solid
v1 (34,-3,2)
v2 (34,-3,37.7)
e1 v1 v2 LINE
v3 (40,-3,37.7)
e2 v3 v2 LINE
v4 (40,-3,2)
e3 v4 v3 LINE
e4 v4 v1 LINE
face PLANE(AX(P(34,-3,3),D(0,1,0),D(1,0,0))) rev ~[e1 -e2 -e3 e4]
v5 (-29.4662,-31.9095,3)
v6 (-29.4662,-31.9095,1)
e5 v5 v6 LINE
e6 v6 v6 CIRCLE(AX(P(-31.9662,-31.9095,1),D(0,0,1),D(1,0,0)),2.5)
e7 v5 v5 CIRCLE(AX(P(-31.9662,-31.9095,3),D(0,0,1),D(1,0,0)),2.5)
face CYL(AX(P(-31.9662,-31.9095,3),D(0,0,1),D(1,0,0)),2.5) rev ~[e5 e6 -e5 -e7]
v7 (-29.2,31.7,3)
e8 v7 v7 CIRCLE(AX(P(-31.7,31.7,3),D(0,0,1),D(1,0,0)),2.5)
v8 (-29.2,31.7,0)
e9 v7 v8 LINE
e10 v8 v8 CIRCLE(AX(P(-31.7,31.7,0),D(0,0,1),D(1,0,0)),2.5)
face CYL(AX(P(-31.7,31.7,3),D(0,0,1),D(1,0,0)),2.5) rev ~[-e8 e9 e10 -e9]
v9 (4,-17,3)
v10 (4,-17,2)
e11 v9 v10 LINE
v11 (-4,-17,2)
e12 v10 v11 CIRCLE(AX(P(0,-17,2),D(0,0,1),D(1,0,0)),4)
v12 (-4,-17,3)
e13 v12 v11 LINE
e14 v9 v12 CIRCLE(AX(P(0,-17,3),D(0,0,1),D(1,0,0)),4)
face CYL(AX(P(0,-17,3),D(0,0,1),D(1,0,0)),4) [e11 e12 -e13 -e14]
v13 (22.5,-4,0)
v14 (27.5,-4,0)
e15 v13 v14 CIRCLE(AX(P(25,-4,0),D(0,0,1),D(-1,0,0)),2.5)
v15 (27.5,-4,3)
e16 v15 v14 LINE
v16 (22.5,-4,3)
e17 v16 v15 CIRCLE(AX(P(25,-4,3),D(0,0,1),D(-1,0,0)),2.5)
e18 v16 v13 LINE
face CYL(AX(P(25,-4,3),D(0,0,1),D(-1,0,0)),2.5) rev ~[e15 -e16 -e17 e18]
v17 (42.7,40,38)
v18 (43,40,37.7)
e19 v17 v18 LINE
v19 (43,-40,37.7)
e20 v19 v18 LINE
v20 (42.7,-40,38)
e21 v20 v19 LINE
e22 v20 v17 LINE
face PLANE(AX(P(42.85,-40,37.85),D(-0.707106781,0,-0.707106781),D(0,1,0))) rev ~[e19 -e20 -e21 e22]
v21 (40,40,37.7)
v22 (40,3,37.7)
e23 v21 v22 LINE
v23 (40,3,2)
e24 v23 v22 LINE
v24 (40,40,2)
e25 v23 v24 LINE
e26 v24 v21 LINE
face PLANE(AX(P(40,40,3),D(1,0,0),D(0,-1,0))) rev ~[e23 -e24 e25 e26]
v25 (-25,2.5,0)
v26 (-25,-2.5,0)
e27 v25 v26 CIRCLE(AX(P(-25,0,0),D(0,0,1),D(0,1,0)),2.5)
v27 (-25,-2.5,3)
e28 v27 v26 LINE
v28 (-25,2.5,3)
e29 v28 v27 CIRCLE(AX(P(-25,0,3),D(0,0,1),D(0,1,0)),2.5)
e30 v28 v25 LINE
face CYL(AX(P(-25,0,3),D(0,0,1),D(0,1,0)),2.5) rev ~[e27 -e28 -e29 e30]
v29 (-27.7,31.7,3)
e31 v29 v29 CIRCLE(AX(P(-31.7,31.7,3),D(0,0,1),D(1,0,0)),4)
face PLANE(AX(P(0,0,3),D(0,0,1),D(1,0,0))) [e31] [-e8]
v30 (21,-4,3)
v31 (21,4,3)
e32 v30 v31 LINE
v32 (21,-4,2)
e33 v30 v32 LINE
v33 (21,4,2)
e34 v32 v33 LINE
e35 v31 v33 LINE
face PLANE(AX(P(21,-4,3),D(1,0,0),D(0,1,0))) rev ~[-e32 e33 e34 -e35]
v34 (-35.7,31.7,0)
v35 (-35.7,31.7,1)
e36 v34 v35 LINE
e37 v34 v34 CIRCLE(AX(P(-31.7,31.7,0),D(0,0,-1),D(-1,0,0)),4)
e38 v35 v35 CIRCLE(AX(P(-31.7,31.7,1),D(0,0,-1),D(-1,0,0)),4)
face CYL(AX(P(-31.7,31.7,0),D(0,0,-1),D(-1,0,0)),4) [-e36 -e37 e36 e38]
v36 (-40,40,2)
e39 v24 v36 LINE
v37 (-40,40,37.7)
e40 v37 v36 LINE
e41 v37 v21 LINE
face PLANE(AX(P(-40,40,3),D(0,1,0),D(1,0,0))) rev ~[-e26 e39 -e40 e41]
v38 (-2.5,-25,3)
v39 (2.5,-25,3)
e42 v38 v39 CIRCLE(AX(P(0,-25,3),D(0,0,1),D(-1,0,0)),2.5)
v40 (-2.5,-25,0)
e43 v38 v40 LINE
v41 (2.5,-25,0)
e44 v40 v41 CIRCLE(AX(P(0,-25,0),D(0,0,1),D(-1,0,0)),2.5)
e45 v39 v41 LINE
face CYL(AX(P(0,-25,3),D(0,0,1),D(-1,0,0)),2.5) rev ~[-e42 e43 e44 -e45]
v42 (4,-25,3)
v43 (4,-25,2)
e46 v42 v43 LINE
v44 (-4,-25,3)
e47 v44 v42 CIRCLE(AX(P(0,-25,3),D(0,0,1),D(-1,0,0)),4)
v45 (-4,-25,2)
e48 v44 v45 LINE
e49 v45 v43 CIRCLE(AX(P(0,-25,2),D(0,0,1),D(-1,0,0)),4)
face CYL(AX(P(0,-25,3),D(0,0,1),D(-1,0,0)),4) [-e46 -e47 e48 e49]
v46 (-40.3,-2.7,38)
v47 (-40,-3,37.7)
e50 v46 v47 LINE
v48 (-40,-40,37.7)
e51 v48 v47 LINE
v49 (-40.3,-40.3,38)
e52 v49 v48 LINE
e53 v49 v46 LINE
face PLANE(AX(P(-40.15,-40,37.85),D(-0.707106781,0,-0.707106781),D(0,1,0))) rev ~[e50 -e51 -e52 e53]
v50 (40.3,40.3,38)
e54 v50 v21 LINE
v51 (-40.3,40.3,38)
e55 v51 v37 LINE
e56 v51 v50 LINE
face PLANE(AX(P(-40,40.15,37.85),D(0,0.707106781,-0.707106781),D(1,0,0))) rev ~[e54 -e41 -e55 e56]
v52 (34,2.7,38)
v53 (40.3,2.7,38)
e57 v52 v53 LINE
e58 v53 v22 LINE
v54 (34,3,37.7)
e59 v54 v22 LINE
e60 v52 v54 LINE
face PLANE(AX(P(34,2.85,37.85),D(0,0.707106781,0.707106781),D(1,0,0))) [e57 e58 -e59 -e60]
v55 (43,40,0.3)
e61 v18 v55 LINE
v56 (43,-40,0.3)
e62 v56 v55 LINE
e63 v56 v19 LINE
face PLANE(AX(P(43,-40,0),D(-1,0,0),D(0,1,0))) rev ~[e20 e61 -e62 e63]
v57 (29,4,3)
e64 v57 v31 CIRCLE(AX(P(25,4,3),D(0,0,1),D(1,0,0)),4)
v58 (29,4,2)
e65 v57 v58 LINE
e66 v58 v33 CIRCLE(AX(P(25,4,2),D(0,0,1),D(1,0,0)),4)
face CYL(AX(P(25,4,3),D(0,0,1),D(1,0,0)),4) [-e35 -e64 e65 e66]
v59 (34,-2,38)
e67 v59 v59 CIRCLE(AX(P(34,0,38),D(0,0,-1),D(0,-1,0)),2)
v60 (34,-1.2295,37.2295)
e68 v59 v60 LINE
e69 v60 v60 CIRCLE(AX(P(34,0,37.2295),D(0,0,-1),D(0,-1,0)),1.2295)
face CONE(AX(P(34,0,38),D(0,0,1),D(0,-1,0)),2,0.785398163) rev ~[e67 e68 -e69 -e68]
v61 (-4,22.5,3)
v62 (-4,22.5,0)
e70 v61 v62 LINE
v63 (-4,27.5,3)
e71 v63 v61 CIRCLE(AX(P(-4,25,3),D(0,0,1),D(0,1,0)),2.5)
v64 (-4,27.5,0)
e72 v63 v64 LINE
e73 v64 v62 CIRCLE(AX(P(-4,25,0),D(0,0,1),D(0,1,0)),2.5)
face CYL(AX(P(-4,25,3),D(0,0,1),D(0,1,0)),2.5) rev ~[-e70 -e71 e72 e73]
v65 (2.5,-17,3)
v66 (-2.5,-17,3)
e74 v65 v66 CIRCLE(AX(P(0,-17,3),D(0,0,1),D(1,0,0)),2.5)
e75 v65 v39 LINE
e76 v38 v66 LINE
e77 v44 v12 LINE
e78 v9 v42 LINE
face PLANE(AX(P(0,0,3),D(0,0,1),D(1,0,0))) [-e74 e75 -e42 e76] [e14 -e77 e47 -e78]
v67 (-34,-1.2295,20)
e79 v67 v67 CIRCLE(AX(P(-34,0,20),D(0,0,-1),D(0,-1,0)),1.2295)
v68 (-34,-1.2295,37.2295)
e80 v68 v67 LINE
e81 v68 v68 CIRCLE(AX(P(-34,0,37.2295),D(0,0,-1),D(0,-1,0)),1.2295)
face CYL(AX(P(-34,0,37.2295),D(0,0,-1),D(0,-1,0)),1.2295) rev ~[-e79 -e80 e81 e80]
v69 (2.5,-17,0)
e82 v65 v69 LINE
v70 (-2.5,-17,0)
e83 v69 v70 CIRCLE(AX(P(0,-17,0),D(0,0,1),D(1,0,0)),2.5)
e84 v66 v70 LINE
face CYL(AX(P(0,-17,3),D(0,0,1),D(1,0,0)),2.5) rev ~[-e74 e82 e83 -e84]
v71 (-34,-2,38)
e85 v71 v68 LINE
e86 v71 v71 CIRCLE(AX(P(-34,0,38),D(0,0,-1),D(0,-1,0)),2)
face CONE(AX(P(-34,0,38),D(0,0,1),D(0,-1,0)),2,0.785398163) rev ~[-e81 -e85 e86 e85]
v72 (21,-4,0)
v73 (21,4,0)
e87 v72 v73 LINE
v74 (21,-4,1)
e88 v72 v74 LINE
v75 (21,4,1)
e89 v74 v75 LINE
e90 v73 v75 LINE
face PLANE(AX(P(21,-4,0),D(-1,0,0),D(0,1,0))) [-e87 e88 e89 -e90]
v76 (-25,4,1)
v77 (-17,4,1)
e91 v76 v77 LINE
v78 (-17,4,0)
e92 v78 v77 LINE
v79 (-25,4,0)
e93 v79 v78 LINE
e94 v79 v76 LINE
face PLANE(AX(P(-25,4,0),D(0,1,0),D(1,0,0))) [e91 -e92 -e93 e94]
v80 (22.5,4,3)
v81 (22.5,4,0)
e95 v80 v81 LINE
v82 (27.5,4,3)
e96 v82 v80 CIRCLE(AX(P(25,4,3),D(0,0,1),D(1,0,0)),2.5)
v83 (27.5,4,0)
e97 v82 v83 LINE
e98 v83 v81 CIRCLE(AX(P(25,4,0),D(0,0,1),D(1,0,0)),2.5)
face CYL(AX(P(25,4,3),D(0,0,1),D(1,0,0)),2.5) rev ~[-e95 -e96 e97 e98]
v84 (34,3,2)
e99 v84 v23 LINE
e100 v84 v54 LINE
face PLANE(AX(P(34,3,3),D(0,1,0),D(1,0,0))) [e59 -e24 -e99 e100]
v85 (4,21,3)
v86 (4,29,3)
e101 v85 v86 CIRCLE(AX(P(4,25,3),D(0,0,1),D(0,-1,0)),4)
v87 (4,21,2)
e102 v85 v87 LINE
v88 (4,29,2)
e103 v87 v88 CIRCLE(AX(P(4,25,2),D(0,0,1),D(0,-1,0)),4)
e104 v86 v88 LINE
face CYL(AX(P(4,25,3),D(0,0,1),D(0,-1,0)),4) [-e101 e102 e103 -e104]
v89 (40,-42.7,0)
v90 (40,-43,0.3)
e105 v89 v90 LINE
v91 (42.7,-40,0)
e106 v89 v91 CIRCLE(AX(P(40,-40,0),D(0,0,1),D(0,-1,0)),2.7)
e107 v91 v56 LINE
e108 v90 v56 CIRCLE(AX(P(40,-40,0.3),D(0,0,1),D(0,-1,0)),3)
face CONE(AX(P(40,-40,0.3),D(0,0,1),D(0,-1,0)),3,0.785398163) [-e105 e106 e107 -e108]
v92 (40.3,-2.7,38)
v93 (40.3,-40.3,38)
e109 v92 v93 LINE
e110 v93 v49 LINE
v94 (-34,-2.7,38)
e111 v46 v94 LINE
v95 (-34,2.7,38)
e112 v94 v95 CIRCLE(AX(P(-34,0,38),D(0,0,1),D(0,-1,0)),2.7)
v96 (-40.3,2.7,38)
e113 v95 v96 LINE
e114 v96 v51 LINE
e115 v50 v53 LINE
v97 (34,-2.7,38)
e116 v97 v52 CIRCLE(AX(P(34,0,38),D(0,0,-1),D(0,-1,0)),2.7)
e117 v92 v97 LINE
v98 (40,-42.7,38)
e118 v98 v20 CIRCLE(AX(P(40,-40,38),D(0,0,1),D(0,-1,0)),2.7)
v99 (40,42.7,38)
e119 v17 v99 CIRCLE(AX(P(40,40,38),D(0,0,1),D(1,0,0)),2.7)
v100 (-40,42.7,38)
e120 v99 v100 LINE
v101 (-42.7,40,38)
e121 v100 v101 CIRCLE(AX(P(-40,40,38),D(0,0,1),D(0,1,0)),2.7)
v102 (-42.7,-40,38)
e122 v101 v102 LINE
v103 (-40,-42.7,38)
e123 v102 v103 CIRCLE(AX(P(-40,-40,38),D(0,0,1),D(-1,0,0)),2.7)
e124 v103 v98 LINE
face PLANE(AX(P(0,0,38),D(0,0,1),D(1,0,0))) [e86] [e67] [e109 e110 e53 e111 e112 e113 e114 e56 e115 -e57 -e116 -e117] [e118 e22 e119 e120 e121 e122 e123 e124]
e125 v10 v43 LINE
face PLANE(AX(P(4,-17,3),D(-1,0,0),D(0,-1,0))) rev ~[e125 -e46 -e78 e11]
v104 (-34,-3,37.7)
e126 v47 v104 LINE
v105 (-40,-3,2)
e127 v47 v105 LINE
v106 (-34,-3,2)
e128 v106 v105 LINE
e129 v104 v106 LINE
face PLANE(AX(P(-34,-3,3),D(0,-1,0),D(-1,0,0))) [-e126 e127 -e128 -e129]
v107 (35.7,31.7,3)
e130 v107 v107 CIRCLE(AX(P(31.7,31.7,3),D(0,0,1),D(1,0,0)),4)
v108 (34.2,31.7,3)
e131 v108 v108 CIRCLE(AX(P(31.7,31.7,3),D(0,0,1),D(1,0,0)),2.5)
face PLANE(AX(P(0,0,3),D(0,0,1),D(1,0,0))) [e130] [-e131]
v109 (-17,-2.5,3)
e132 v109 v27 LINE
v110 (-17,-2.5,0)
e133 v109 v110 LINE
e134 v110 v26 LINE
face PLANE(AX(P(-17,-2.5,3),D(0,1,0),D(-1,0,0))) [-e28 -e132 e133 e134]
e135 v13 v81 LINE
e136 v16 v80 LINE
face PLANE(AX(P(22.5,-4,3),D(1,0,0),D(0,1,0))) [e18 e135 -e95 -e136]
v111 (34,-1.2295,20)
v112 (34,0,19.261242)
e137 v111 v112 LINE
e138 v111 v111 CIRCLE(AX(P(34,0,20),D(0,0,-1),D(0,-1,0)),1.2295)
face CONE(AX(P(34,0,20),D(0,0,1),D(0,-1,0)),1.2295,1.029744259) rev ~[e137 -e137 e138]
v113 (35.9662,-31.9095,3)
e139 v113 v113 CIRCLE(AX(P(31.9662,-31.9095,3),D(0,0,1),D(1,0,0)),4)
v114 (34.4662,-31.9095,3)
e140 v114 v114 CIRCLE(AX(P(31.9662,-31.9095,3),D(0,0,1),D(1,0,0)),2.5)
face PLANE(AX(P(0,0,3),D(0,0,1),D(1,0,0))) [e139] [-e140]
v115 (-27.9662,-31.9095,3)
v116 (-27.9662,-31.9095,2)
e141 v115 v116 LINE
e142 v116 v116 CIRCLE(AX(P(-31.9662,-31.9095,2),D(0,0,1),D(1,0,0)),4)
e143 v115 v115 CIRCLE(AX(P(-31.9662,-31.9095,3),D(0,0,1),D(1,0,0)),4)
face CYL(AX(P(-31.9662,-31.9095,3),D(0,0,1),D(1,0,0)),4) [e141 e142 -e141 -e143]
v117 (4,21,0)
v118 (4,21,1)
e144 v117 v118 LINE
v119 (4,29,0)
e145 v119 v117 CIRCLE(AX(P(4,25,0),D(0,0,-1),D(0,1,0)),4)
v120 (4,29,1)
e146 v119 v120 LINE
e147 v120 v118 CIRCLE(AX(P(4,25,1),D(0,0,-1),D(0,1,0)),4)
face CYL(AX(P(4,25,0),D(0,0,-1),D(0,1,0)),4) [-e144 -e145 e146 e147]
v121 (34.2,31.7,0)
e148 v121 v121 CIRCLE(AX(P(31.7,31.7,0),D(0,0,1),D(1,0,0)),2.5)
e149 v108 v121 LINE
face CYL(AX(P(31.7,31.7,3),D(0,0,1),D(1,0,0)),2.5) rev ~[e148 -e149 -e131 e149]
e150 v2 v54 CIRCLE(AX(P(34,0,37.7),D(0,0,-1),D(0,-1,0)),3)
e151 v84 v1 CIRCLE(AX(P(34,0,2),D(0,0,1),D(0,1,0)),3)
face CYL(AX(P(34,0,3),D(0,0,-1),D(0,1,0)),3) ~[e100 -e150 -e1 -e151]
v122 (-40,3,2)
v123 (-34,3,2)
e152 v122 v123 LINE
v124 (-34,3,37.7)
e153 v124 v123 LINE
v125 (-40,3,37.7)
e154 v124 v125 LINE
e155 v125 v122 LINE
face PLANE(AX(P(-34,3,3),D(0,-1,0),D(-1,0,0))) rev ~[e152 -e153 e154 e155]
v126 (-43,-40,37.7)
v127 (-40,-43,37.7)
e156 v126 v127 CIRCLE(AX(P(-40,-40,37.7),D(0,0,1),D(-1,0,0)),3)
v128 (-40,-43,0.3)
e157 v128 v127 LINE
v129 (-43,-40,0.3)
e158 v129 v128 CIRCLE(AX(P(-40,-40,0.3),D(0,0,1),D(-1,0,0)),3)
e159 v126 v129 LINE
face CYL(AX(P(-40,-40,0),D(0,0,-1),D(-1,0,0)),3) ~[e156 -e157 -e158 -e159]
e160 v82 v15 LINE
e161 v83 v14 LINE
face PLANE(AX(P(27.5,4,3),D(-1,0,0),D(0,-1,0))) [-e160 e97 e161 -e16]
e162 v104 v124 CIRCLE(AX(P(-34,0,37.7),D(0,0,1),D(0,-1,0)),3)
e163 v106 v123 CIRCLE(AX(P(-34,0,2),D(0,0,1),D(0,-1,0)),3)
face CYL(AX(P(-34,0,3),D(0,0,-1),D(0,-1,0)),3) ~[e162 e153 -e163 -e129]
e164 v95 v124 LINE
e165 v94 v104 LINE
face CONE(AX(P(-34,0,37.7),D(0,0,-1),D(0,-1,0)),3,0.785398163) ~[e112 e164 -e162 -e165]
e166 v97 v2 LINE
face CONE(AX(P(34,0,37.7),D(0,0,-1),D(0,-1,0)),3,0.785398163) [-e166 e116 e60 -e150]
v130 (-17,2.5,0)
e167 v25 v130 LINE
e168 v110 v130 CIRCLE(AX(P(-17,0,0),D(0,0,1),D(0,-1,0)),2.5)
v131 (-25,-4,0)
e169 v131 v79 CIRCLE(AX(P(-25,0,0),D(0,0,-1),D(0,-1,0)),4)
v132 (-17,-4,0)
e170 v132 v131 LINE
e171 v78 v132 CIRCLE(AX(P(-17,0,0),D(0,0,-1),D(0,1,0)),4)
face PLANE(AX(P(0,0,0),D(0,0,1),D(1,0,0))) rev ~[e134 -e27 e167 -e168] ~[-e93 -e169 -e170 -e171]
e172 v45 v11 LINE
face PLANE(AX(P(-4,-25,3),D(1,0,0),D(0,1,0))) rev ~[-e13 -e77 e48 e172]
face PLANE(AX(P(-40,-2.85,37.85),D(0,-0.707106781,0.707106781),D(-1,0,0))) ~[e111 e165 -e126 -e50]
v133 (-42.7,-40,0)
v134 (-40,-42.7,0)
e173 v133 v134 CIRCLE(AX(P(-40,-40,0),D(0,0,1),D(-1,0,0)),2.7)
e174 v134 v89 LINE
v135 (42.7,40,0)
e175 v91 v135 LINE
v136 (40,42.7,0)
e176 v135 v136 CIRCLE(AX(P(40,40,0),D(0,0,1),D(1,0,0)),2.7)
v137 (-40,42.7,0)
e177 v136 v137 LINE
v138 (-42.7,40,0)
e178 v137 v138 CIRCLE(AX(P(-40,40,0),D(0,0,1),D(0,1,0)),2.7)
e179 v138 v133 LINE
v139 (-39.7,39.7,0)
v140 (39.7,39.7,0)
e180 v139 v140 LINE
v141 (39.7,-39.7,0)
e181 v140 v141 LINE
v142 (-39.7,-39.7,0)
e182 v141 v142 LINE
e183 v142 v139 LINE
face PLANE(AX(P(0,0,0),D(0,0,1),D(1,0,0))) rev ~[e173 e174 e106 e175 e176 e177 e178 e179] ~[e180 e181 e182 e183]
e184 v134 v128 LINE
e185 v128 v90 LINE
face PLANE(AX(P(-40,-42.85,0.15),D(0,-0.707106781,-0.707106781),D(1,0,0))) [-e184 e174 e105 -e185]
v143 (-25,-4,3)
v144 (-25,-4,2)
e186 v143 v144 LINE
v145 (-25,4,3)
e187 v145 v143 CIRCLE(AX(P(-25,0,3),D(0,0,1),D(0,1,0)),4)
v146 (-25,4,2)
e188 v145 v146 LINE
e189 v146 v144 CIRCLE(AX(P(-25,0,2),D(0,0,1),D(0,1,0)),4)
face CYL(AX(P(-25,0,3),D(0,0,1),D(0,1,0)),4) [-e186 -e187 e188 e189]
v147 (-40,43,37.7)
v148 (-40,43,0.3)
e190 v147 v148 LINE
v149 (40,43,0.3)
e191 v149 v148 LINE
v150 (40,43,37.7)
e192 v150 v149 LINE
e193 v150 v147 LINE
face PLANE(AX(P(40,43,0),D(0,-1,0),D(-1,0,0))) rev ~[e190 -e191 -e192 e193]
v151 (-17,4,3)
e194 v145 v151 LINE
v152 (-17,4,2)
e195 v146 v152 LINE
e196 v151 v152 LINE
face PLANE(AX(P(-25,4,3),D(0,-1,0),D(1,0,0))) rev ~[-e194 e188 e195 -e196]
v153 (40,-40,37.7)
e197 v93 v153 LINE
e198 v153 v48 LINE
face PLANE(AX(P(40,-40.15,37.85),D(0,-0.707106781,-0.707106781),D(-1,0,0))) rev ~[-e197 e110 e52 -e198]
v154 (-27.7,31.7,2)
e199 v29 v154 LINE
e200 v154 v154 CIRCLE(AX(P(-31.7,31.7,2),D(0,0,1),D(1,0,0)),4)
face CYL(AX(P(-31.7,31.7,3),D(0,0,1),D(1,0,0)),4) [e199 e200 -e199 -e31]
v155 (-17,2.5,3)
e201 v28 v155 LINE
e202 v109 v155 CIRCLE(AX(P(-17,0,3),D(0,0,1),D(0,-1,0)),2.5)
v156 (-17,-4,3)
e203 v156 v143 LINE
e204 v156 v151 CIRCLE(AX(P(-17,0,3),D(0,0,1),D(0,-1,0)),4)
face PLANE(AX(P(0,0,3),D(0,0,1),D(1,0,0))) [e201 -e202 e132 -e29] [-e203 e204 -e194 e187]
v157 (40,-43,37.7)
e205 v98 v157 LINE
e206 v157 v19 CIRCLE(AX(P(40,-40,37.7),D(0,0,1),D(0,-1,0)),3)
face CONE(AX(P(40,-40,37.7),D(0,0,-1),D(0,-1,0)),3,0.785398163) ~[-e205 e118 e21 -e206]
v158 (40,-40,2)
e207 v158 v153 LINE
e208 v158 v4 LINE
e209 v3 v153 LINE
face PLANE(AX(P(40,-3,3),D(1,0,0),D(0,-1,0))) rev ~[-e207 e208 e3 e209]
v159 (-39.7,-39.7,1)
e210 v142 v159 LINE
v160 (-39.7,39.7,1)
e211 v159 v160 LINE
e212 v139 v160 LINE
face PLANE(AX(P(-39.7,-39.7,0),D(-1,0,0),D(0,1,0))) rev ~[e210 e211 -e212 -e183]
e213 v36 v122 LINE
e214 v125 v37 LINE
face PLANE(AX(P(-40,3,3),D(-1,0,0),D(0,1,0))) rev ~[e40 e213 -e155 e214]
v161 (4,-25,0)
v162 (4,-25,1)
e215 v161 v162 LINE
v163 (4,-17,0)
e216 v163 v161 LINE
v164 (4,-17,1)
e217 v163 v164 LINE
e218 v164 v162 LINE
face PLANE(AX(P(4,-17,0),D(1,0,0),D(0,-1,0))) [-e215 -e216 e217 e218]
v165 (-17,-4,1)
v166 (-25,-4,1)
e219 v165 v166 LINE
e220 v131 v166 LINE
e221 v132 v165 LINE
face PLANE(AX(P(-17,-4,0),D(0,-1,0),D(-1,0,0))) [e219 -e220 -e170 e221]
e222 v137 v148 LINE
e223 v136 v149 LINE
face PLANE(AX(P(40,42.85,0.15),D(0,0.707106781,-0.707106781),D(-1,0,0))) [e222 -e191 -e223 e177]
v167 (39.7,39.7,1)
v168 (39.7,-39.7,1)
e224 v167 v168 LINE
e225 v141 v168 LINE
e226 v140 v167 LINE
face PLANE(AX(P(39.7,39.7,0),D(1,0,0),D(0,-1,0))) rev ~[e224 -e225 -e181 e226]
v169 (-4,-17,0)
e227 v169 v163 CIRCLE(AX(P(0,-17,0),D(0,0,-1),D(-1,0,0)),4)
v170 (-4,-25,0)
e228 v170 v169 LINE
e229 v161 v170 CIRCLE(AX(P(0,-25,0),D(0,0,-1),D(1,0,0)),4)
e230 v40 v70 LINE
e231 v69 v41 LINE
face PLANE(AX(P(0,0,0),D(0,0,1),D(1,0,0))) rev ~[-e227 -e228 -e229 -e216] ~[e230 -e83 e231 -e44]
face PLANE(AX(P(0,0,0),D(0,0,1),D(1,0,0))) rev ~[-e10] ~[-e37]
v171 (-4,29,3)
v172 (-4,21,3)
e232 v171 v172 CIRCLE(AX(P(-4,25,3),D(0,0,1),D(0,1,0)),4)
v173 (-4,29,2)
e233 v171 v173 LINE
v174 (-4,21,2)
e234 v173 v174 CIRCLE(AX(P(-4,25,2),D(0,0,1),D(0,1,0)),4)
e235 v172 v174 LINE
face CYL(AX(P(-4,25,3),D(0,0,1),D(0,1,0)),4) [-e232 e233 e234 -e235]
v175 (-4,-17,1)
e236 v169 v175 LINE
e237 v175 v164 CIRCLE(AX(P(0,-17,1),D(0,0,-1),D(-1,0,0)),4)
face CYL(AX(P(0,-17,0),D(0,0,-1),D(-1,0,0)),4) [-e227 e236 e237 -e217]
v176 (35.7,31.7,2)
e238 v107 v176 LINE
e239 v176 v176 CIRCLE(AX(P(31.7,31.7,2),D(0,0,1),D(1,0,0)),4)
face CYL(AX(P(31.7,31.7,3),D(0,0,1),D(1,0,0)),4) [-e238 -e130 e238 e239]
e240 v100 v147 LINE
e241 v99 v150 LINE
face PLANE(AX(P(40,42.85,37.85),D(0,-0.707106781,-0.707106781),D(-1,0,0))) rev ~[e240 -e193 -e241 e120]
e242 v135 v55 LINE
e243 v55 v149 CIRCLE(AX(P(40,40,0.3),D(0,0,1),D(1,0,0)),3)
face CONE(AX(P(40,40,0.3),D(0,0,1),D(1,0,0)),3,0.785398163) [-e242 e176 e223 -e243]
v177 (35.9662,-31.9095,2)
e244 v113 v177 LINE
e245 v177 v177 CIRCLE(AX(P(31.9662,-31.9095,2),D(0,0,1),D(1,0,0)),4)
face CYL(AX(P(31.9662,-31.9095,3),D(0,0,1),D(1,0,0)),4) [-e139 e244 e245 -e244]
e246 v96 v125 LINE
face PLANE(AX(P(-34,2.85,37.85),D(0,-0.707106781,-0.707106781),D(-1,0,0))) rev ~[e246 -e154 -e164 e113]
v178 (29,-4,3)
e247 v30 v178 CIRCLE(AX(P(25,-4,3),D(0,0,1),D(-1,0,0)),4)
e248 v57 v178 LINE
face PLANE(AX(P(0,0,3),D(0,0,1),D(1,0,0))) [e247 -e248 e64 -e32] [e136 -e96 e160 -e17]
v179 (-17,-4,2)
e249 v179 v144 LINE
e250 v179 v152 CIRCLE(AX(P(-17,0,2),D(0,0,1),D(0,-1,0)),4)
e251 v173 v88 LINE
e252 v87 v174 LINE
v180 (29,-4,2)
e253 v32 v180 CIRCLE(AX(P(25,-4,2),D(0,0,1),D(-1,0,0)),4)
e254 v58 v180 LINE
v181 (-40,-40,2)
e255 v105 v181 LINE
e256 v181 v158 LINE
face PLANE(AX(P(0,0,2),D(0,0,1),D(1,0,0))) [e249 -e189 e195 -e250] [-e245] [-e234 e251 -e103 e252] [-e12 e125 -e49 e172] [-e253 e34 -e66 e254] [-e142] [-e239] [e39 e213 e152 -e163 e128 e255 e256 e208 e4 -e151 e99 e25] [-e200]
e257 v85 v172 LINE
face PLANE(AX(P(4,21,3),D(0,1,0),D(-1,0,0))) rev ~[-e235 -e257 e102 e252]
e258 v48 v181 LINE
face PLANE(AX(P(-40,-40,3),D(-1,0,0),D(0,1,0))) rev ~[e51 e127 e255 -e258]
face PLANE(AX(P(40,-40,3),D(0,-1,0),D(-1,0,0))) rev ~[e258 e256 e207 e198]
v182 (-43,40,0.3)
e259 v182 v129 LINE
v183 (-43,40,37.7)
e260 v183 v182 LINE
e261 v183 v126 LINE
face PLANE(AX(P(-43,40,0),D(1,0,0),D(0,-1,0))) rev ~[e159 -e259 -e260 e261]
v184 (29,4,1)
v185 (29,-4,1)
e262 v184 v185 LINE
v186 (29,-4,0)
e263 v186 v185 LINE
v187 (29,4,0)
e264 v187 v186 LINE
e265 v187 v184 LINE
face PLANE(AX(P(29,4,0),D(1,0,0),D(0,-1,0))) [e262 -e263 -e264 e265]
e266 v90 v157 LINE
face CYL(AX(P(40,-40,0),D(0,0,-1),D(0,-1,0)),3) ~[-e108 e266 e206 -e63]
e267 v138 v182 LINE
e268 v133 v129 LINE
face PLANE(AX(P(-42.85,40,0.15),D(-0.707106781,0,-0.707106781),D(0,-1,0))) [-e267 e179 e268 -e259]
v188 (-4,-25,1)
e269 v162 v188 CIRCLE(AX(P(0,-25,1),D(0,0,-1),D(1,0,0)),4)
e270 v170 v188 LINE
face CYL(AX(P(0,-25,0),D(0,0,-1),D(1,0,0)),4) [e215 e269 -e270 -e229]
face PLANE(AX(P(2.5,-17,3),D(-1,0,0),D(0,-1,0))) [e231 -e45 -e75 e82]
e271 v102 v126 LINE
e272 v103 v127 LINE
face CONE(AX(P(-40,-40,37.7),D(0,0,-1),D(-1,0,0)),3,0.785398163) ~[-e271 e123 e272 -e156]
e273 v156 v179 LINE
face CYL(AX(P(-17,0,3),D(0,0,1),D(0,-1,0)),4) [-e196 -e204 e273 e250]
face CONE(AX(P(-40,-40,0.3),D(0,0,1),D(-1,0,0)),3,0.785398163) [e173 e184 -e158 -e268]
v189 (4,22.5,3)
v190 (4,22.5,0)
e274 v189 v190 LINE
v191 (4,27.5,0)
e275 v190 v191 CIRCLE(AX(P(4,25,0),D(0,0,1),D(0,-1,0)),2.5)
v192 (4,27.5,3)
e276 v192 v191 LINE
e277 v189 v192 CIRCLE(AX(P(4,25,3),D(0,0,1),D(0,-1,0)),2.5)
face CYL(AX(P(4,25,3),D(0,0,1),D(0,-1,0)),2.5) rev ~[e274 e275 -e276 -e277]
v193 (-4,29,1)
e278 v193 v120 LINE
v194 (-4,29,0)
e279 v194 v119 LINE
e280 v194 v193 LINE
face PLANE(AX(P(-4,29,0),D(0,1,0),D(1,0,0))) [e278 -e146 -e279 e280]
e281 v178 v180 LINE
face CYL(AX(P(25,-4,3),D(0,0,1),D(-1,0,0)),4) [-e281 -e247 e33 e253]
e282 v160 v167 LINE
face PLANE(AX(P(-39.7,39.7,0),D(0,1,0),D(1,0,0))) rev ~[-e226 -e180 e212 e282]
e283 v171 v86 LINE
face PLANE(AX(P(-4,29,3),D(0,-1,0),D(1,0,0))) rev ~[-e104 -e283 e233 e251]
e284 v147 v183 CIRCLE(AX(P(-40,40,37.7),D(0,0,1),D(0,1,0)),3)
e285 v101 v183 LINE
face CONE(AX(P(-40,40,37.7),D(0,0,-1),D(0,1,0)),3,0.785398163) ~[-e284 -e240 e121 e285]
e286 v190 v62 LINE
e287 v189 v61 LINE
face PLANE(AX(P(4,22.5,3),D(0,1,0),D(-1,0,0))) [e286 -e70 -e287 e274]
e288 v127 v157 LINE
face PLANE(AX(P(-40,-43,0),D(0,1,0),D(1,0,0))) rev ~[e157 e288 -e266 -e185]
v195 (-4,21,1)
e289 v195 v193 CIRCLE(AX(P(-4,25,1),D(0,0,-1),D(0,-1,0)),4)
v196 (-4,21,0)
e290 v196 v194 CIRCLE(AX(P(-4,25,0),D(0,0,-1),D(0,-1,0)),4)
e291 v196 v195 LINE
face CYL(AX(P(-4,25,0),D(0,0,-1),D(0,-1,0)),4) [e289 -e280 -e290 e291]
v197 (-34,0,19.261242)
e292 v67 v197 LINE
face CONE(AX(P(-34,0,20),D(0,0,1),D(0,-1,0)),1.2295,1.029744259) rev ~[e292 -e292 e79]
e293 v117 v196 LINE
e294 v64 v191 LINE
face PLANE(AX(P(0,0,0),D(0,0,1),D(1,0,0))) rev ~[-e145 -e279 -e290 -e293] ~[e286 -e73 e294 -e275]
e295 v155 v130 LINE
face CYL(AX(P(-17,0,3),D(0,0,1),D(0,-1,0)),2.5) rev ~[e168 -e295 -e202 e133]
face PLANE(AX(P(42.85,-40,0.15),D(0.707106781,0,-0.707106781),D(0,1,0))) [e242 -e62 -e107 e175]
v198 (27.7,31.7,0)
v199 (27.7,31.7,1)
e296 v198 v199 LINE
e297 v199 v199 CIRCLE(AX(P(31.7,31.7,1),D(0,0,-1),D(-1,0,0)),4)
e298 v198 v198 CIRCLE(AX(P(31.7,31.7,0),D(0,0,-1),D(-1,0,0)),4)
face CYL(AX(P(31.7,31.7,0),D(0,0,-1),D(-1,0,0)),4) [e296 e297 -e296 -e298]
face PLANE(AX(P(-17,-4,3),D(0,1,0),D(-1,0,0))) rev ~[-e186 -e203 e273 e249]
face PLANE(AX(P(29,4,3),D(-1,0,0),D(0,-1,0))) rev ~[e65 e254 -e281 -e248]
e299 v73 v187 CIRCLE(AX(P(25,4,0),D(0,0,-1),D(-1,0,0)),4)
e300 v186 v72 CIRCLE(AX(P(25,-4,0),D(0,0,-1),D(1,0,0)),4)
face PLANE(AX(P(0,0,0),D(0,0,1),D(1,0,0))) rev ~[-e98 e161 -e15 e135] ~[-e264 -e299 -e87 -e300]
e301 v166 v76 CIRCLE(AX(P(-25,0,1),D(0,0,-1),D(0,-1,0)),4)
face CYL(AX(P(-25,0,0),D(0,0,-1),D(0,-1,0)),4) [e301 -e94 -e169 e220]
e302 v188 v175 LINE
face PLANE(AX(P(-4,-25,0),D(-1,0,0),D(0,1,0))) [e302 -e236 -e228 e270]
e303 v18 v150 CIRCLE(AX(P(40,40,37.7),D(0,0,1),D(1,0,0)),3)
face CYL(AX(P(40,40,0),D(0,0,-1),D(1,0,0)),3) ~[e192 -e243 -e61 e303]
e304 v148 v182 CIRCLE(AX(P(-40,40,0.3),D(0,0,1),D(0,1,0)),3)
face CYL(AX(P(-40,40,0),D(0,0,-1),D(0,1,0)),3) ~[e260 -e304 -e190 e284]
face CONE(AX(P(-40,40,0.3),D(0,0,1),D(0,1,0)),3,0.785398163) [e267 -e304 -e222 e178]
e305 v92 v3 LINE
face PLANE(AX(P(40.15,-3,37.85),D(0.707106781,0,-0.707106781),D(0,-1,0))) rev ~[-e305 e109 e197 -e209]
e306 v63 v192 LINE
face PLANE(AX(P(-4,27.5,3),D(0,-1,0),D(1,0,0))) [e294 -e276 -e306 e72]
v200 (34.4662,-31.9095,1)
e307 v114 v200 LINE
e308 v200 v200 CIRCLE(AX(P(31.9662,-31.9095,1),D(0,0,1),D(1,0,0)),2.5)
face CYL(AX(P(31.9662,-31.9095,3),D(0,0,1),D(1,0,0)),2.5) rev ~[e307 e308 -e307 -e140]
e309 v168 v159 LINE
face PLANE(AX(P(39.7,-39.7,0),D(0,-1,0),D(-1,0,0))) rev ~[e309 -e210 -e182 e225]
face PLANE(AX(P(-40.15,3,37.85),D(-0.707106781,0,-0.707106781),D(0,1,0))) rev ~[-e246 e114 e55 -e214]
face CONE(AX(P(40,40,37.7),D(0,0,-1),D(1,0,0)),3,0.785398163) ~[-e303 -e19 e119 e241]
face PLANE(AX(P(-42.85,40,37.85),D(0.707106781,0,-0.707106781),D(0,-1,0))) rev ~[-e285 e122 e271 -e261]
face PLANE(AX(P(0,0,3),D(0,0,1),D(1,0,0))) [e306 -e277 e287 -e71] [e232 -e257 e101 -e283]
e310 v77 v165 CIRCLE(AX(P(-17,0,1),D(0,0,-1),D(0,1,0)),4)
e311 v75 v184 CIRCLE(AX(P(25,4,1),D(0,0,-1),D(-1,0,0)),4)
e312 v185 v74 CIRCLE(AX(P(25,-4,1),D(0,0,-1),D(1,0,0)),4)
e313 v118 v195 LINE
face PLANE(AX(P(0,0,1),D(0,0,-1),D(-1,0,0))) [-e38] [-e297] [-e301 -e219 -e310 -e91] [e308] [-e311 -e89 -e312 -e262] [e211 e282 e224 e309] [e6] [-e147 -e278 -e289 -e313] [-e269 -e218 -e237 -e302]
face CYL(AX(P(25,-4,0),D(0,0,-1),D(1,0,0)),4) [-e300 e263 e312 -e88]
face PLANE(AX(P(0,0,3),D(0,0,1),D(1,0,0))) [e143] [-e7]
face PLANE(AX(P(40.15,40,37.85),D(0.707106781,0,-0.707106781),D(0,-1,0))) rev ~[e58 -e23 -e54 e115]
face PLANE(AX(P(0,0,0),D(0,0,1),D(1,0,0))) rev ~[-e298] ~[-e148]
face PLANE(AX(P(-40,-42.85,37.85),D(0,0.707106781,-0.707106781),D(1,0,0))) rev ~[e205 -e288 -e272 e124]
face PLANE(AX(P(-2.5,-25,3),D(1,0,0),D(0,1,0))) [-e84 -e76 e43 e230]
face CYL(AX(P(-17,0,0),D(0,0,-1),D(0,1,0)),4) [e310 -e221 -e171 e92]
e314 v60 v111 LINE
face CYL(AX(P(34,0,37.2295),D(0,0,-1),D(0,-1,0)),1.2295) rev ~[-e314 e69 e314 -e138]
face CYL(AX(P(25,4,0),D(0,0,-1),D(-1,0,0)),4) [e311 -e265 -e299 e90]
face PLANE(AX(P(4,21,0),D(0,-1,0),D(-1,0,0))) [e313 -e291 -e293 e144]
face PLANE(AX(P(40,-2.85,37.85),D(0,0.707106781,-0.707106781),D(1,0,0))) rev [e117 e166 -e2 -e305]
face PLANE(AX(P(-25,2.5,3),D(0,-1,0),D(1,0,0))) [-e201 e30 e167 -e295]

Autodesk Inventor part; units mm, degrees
ref_plane "YZ Plane" through (0, 0, 0) normal (1, 0, 0) x (0, 1, 0)
ref_plane "XZ Plane" through (0, 0, 0) normal (0, 1, 0) x (-1, 0, 0)
ref_plane "XY Plane" through (0, 0, 0) normal (0, 0, 1) x (1, 0, 0)
sketch "Sketch1" plane through (0, 0, 0) normal (0, 0, 1) x (1, 0, 0)
  line L0 (-40, -43) -> (40, -43)
  line L1 (43, -40) -> (43, 40)
  line L2 (40, 43) -> (-40, 43)
  line L3 (-43, 40) -> (-43, -40)
  line L4 (-43, -43) -> (43, 43) construction
  line L5 (43, -43) -> (-43, 43) construction
  arc A0 (-40, 43) -> (-43, 40) centre (-40, 40) ccw
  arc A1 (43, 40) -> (40, 43) centre (40, 40) ccw
  arc A2 (40, -43) -> (43, -40) centre (40, -40) ccw
  arc A3 (-43, -40) -> (-40, -43) centre (-40, -40) ccw
  point P0 (0, 0)
  dimension "d0" = 86
  dimension "d1" = 3
  dimension "d16" = 86
extrude "Extrusion1" add sketch "Sketch1" along normal blind 3
sketch "Sketch2" plane through (0, 0, 3) normal (0, 0, 1) x (1, 0, 0)
  arc A0 (-40, 43) -> (-43, 40) centre (-40, 40) ccw projected
  line L0 (-43, 40) -> (-43, -40) projected
  arc A1 (-43, -40) -> (-40, -43) centre (-40, -40) ccw projected
  line L1 (-40, -43) -> (40, -43) projected
  arc A2 (40, -43) -> (43, -40) centre (40, -40) ccw projected
  line L2 (43, -40) -> (43, 40) projected
  arc A3 (43, 40) -> (40, 43) centre (40, 40) ccw projected
  line L3 (40, 43) -> (-40, 43) projected
  line L4 (-40, -40) -> (-40, 40)
  line L5 (-40, 40) -> (40, 40)
  line L6 (40, 40) -> (40, -40)
  line L7 (40, -40) -> (-40, -40)
  arc A4 (-34, -3) -> (-34, 3) centre (-34, 0) ccw
  arc A5 (34, 3) -> (34, -3) centre (34, 0) ccw
  line L8 (-34, 3) -> (-40, 3)
  line L9 (-34, -3) -> (-40, -3)
  line L10 (34, 3) -> (40, 3)
  line L11 (34, -3) -> (40, -3)
  arc A6 (-34, 3) -> (-34, -3) centre (-34, 0) ccw construction
  arc A7 (34, -3) -> (34, 3) centre (34, 0) ccw construction
  point P0 (0, 0)
  point P1 (40, 0)
  dimension "d4" = 3
  dimension "d5" = 6
  dimension "d6" = 6
extrude "Extrusion2" add sketch "Sketch2" along normal blind 35 contours L3 A3 L2 A2 L1 A1 L0 A0 | L4 L8 A4 L9 | L11 A5 L10 L6
sketch "Sketch3" plane through (0, 0, 38) normal (0, 0, 1) x (1, 0, 0)
  arc A0 (-34, -3) -> (-34, 3) centre (-34, 0) ccw projected
  arc A1 (34, 3) -> (34, -3) centre (34, 0) ccw projected
  arc A2 (-34, -3) -> (-34, 3) centre (-34, 0) ccw projected
  point P0 (0, 0)
hole "Hole1" at (-34, 0, 38) at (34, 0, 38) direction (0, 0, -1) diameter 2.459 depth 18 tip angle 118 countersink diameter 4 countersink angle 90 thread size "M3x0.5" class "6H" standard "ISO Metric profile"
chamfer "Chamfer1" distance 0.3 angle 45 28 edges at (0, 43, 38) (-42.1213, 42.1213, 38) (-43, 0, 38) (-42.1213, -42.1213, 38) (0, -43, 38) (42.1213, -42.1213, 38) (43, 0, 38) (42.1213, 42.1213, 38) (0, 40, 38) (-40, 21.5, 38) (-31, 0, 38) (-37, 3, 38) (-37, -3, 38) (-40, -21.5, 38) (0, -40, 38) (40, -21.5, 38) (40, 21.5, 38) (37, 3, 38) (31, 0, 38) (37, -3, 38) (43, 0, 0) (42.1213, 42.1213, 0) (0, 43, 0) (-42.1213, 42.1213, 0) (-43, 0, 0) (-42.1213, -42.1213, 0) (0, -43, 0) (42.1213, -42.1213, 0)
sketch "Sketch4" plane through (0, 0, 0) normal (0, 0, -1) x (-1, 0, 0)
  line L0 (-8, 21) -> (-4, 21) construction
  line L1 (8, 21) -> (8, 29) construction
  line L2 (8, 29) -> (4, 29) construction
  line L3 (-8, 29) -> (-8, 21) construction
  line L4 (-8, 21) -> (8, 29) construction
  line L5 (8, 21) -> (-8, 29) construction
  line L6 (0, 0) -> (0, 25) construction
  arc A0 (-4, 29) -> (-4, 21) centre (-4, 25) ccw
  line L7 (-4, 21) -> (4, 21)
  line L8 (-4, 29) -> (-8, 29) construction
  arc A1 (-4, 21) -> (-4, 29) centre (-4, 25) ccw construction
  arc A2 (4, 21) -> (4, 29) centre (4, 25) ccw
  line L9 (4, 29) -> (-4, 29)
  line L10 (4, 21) -> (8, 21) construction
  line L11 (-42.7, -40) -> (-42.7, 40) projected
  arc A3 (-42.7, -40) -> (-40, -42.7) centre (-40, -40) ccw projected
  line L12 (40, -42.7) -> (-40, -42.7) projected
  arc A4 (40, -42.7) -> (42.7, -40) centre (40, -40) ccw projected
  line L13 (42.7, 40) -> (42.7, -40) projected
  arc A5 (42.7, 40) -> (40, 42.7) centre (40, 40) ccw projected
  line L14 (-40, 42.7) -> (40, 42.7) projected
  arc A6 (-40, 42.7) -> (-42.7, 40) centre (-40, 40) ccw projected
  line L15 (-39.7, 39.7) -> (-39.7, -39.7)
  line L16 (-39.7, -39.7) -> (39.7, -39.7)
  line L17 (39.7, -39.7) -> (39.7, 39.7)
  line L18 (39.7, 39.7) -> (-39.7, 39.7)
  line L19 (0, -39.7) -> (0, -34) construction
  line L20 (-4, -29) -> (4, -29) construction
  line L21 (4, -29) -> (4, -25) construction
  line L22 (4, -13) -> (-4, -13) construction
  line L23 (-4, -13) -> (-4, -17) construction
  line L24 (-4, -29) -> (4, -13) construction
  line L25 (4, -29) -> (-4, -13) construction
  arc A7 (-4, -17) -> (4, -17) centre (0, -17) ccw construction
  line L26 (4, -17) -> (4, -13) construction
  arc A8 (4, -17) -> (-4, -17) centre (0, -17) ccw
  arc A9 (-4, -25) -> (4, -25) centre (0, -25) ccw
  line L27 (-4, -17) -> (-4, -25)
  line L28 (-4, -25) -> (-4, -29) construction
  line L29 (4, -25) -> (4, -17)
  line L30 (0, 0) -> (0, -13) construction
  circle A10 centre (-31.7, 31.7) radius 4
  circle A11 centre (31.7, 31.7) radius 4
  line L31 (-21, -8) -> (-21, -4) construction
  line L32 (-21, 8) -> (-29, 8) construction
  line L33 (-29, 8) -> (-29, 4) construction
  line L34 (-21, -4) -> (-21, 4)
  line L35 (-29, 4) -> (-29, -4)
  line L36 (-29, -8) -> (-21, -8) construction
  line L37 (-29, -4) -> (-29, -8) construction
  line L38 (-21, 8) -> (-29, -8) construction
  arc A12 (-29, -4) -> (-21, -4) centre (-25, -4) ccw
  arc A13 (-21, -4) -> (-29, -4) centre (-25, -4) ccw construction
  line L39 (-21, -8) -> (-29, 8) construction
  line L40 (-21, 4) -> (-21, 8) construction
  arc A14 (-21, 4) -> (-29, 4) centre (-25, 4) ccw
  line L41 (0, 0) -> (-25, 0) construction
  line L42 (0, 0) -> (13, 0) construction
  line L43 (13, -4) -> (17, -4) construction
  arc A15 (17, 4) -> (17, -4) centre (17, 0) ccw
  line L44 (13, 4) -> (13, -4) construction
  arc A16 (17, -4) -> (17, 4) centre (17, 0) ccw construction
  line L45 (17, 4) -> (13, 4) construction
  line L46 (17, -4) -> (25, -4)
  line L47 (25, 4) -> (17, 4)
  line L48 (29, -4) -> (13, 4) construction
  line L49 (29, 4) -> (13, -4) construction
  line L50 (25, -4) -> (29, -4) construction
  line L51 (29, -4) -> (29, 4) construction
  arc A17 (25, -4) -> (25, 4) centre (25, 0) ccw
  line L52 (29, 4) -> (25, 4) construction
  circle A18 centre (-31.7, -31.7) radius 4
  circle A19 centre (31.7, -31.7) radius 4
  point P0 (0, -21)
  point P1 (0, -21)
  point P2 (0, 21)
  point P3 (-21, 0)
  point P4 (21, 0)
  point P5 (21, 0)
  dimension "d20" = 8
  dimension "d24" = 4
  dimension "d25" = 25
  dimension "d30" = 13
  dimension "d36" = 3
  dimension "d37" = 8
  dimension "d44" = 90
  dimension "d56" = 8
  dimension "d57" = 8
extrude "Extrusion3" cut sketch "Sketch4" against normal blind 1 contours L18 L17 L16 L15 | A18 | A19
sketch "Sketch5" plane through (0, 0, 3) normal (0, 0, 1) x (1, 0, 0)
  line L0 (4, 21) -> (-4, 21) projected
  arc A0 (-4, 29) -> (-4, 21) centre (-4, 25) ccw projected
  line L1 (-4, 29) -> (4, 29) projected
  arc A1 (4, 21) -> (4, 29) centre (4, 25) ccw projected
  circle A2 centre (-31.7, 31.7) radius 4 projected
  arc A3 (4, -17) -> (-4, -17) centre (0, -17) ccw projected
  line L2 (4, -17) -> (4, -25) projected
  arc A4 (-4, -25) -> (4, -25) centre (0, -25) ccw projected
  line L3 (-4, -25) -> (-4, -17) projected
  circle A5 centre (31.7, 31.7) radius 4 projected
  circle A6 centre (31.9662, -31.9095) radius 4 projected
  circle A7 centre (-31.9662, -31.9095) radius 4 projected
  line L4 (-40, 40) -> (-40, 3) projected
  line L5 (-40, 3) -> (-34, 3) projected
  arc A8 (-34, -3) -> (-34, 3) centre (-34, 0) ccw projected
  line L6 (-34, -3) -> (-40, -3) projected
  line L7 (-40, -3) -> (-40, -40) projected
  line L8 (-40, -40) -> (40, -40) projected
  line L9 (40, -40) -> (40, -3) projected
  line L10 (40, -3) -> (34, -3) projected
  arc A9 (34, 3) -> (34, -3) centre (34, 0) ccw projected
  line L11 (34, 3) -> (40, 3) projected
  line L12 (40, 3) -> (40, 40) projected
  line L13 (40, 40) -> (-40, 40) projected
  arc A10 (29, 4) -> (21, 4) centre (25, 4) ccw projected
  line L14 (29, 4) -> (29, -4) projected
  arc A11 (21, -4) -> (29, -4) centre (25, -4) ccw projected
  line L15 (21, -4) -> (21, 4) projected
  arc A12 (-25, 4) -> (-25, -4) centre (-25, 0) ccw projected
  line L16 (-25, 4) -> (-17, 4) projected
  arc A13 (-17, -4) -> (-17, 4) centre (-17, 0) ccw projected
  line L17 (-17, -4) -> (-25, -4) projected
  point P0 (0, 0)
extrude "Extrusion4" cut sketch "Sketch5" against normal blind 1
sketch "Sketch6" plane through (-31.7, 31.7, 3) normal (0, 0, 1) x (1, 0, 0)
  circle A0 centre (0, 0) radius 4 projected
  arc A1 (35.7, -10.7) -> (35.7, -2.7) centre (35.7, -6.7) ccw projected
  line L0 (35.7, -2.7) -> (27.7, -2.7) projected
  arc A2 (27.7, -2.7) -> (27.7, -10.7) centre (27.7, -6.7) ccw projected
  line L1 (27.7, -10.7) -> (35.7, -10.7) projected
  circle A3 centre (63.4, 0) radius 4 projected
  arc A4 (60.7, -27.7) -> (52.7, -27.7) centre (56.7, -27.7) ccw projected
  line L2 (52.7, -27.7) -> (52.7, -35.7) projected
  arc A5 (52.7, -35.7) -> (60.7, -35.7) centre (56.7, -35.7) ccw projected
  line L3 (60.7, -35.7) -> (60.7, -27.7) projected
  arc A6 (27.7, -56.7) -> (35.7, -56.7) centre (31.7, -56.7) ccw projected
  line L4 (35.7, -56.7) -> (35.7, -48.7) projected
  arc A7 (35.7, -48.7) -> (27.7, -48.7) centre (31.7, -48.7) ccw projected
  line L5 (27.7, -48.7) -> (27.7, -56.7) projected
  arc A8 (6.7, -27.7) -> (6.7, -35.7) centre (6.7, -31.7) ccw projected
  line L6 (6.7, -35.7) -> (14.7, -35.7) projected
  arc A9 (14.7, -35.7) -> (14.7, -27.7) centre (14.7, -31.7) ccw projected
  line L7 (14.7, -27.7) -> (6.7, -27.7) projected
  circle A10 centre (-0.2662, -63.6095) radius 4 projected
  circle A11 centre (63.6662, -63.6095) radius 4 projected
  circle A12 centre (0, 0) radius 2.5
  line L8 (27.7, -4.2) -> (35.7, -4.2)
  arc A13 (35.7, -9.2) -> (35.7, -4.2) centre (35.7, -6.7) ccw
  line L9 (35.7, -9.2) -> (27.7, -9.2)
  arc A14 (27.7, -4.2) -> (27.7, -9.2) centre (27.7, -6.7) ccw
  line L10 (34.2, -48.7) -> (34.2, -56.7)
  arc A15 (29.2, -56.7) -> (34.2, -56.7) centre (31.7, -56.7) ccw
  line L11 (29.2, -56.7) -> (29.2, -48.7)
  arc A16 (34.2, -48.7) -> (29.2, -48.7) centre (31.7, -48.7) ccw
  arc A17 (14.7, -34.2) -> (14.7, -29.2) centre (14.7, -31.7) ccw
  line L12 (14.7, -34.2) -> (6.7, -34.2)
  arc A18 (6.7, -29.2) -> (6.7, -34.2) centre (6.7, -31.7) ccw
  line L13 (6.7, -29.2) -> (14.7, -29.2)
  arc A19 (54.2, -35.7) -> (59.2, -35.7) centre (56.7, -35.7) ccw
  line L14 (54.2, -35.7) -> (54.2, -27.7)
  arc A20 (59.2, -27.7) -> (54.2, -27.7) centre (56.7, -27.7) ccw
  line L15 (59.2, -27.7) -> (59.2, -35.7)
  circle A21 centre (63.4, 0) radius 2.5
  circle A22 centre (-0.2662, -63.6095) radius 2.5
  circle A23 centre (63.6662, -63.6095) radius 2.5
  point P0 (31.7, -31.7)
  dimension "d46" = 1.5
  dimension "d47" = 1.5
  dimension "d48" = 1.5
  dimension "d49" = 1.5
  dimension "d50" = 1.5
  dimension "d51" = 1.5
  dimension "d52" = 1.5
  dimension "d53" = 1.5
extrude "Extrusion5" cut sketch "Sketch6" against normal through all contours A12 | L8 A13 L9 A14 | L10 A15 L11 A16 | L12 A18 L13 A17 | L14 A20 L15 A19 | A21 | A22 | A23
equation "\"d0\" = Width"
equation "\"d2\" = d1"
equation "\"d6\" = d5"
equation "\"d7\" = Depth"
equation "\"d37\" = 2 * d24"
equation "\"d57\" = d37"
equation "\"d47\" = d46"
equation "\"d48\" = d50"
equation "\"d49\" = d51"
equation "\"d50\" = d49"
equation "\"d51\" = d47"
equation "\"d52\" = d53"
equation "\"d53\" = d48"
equation "\"Depth\" = 35"
equation "\"Width\" = 86"
properties part number "EJB1" material "ABS Plastic"
